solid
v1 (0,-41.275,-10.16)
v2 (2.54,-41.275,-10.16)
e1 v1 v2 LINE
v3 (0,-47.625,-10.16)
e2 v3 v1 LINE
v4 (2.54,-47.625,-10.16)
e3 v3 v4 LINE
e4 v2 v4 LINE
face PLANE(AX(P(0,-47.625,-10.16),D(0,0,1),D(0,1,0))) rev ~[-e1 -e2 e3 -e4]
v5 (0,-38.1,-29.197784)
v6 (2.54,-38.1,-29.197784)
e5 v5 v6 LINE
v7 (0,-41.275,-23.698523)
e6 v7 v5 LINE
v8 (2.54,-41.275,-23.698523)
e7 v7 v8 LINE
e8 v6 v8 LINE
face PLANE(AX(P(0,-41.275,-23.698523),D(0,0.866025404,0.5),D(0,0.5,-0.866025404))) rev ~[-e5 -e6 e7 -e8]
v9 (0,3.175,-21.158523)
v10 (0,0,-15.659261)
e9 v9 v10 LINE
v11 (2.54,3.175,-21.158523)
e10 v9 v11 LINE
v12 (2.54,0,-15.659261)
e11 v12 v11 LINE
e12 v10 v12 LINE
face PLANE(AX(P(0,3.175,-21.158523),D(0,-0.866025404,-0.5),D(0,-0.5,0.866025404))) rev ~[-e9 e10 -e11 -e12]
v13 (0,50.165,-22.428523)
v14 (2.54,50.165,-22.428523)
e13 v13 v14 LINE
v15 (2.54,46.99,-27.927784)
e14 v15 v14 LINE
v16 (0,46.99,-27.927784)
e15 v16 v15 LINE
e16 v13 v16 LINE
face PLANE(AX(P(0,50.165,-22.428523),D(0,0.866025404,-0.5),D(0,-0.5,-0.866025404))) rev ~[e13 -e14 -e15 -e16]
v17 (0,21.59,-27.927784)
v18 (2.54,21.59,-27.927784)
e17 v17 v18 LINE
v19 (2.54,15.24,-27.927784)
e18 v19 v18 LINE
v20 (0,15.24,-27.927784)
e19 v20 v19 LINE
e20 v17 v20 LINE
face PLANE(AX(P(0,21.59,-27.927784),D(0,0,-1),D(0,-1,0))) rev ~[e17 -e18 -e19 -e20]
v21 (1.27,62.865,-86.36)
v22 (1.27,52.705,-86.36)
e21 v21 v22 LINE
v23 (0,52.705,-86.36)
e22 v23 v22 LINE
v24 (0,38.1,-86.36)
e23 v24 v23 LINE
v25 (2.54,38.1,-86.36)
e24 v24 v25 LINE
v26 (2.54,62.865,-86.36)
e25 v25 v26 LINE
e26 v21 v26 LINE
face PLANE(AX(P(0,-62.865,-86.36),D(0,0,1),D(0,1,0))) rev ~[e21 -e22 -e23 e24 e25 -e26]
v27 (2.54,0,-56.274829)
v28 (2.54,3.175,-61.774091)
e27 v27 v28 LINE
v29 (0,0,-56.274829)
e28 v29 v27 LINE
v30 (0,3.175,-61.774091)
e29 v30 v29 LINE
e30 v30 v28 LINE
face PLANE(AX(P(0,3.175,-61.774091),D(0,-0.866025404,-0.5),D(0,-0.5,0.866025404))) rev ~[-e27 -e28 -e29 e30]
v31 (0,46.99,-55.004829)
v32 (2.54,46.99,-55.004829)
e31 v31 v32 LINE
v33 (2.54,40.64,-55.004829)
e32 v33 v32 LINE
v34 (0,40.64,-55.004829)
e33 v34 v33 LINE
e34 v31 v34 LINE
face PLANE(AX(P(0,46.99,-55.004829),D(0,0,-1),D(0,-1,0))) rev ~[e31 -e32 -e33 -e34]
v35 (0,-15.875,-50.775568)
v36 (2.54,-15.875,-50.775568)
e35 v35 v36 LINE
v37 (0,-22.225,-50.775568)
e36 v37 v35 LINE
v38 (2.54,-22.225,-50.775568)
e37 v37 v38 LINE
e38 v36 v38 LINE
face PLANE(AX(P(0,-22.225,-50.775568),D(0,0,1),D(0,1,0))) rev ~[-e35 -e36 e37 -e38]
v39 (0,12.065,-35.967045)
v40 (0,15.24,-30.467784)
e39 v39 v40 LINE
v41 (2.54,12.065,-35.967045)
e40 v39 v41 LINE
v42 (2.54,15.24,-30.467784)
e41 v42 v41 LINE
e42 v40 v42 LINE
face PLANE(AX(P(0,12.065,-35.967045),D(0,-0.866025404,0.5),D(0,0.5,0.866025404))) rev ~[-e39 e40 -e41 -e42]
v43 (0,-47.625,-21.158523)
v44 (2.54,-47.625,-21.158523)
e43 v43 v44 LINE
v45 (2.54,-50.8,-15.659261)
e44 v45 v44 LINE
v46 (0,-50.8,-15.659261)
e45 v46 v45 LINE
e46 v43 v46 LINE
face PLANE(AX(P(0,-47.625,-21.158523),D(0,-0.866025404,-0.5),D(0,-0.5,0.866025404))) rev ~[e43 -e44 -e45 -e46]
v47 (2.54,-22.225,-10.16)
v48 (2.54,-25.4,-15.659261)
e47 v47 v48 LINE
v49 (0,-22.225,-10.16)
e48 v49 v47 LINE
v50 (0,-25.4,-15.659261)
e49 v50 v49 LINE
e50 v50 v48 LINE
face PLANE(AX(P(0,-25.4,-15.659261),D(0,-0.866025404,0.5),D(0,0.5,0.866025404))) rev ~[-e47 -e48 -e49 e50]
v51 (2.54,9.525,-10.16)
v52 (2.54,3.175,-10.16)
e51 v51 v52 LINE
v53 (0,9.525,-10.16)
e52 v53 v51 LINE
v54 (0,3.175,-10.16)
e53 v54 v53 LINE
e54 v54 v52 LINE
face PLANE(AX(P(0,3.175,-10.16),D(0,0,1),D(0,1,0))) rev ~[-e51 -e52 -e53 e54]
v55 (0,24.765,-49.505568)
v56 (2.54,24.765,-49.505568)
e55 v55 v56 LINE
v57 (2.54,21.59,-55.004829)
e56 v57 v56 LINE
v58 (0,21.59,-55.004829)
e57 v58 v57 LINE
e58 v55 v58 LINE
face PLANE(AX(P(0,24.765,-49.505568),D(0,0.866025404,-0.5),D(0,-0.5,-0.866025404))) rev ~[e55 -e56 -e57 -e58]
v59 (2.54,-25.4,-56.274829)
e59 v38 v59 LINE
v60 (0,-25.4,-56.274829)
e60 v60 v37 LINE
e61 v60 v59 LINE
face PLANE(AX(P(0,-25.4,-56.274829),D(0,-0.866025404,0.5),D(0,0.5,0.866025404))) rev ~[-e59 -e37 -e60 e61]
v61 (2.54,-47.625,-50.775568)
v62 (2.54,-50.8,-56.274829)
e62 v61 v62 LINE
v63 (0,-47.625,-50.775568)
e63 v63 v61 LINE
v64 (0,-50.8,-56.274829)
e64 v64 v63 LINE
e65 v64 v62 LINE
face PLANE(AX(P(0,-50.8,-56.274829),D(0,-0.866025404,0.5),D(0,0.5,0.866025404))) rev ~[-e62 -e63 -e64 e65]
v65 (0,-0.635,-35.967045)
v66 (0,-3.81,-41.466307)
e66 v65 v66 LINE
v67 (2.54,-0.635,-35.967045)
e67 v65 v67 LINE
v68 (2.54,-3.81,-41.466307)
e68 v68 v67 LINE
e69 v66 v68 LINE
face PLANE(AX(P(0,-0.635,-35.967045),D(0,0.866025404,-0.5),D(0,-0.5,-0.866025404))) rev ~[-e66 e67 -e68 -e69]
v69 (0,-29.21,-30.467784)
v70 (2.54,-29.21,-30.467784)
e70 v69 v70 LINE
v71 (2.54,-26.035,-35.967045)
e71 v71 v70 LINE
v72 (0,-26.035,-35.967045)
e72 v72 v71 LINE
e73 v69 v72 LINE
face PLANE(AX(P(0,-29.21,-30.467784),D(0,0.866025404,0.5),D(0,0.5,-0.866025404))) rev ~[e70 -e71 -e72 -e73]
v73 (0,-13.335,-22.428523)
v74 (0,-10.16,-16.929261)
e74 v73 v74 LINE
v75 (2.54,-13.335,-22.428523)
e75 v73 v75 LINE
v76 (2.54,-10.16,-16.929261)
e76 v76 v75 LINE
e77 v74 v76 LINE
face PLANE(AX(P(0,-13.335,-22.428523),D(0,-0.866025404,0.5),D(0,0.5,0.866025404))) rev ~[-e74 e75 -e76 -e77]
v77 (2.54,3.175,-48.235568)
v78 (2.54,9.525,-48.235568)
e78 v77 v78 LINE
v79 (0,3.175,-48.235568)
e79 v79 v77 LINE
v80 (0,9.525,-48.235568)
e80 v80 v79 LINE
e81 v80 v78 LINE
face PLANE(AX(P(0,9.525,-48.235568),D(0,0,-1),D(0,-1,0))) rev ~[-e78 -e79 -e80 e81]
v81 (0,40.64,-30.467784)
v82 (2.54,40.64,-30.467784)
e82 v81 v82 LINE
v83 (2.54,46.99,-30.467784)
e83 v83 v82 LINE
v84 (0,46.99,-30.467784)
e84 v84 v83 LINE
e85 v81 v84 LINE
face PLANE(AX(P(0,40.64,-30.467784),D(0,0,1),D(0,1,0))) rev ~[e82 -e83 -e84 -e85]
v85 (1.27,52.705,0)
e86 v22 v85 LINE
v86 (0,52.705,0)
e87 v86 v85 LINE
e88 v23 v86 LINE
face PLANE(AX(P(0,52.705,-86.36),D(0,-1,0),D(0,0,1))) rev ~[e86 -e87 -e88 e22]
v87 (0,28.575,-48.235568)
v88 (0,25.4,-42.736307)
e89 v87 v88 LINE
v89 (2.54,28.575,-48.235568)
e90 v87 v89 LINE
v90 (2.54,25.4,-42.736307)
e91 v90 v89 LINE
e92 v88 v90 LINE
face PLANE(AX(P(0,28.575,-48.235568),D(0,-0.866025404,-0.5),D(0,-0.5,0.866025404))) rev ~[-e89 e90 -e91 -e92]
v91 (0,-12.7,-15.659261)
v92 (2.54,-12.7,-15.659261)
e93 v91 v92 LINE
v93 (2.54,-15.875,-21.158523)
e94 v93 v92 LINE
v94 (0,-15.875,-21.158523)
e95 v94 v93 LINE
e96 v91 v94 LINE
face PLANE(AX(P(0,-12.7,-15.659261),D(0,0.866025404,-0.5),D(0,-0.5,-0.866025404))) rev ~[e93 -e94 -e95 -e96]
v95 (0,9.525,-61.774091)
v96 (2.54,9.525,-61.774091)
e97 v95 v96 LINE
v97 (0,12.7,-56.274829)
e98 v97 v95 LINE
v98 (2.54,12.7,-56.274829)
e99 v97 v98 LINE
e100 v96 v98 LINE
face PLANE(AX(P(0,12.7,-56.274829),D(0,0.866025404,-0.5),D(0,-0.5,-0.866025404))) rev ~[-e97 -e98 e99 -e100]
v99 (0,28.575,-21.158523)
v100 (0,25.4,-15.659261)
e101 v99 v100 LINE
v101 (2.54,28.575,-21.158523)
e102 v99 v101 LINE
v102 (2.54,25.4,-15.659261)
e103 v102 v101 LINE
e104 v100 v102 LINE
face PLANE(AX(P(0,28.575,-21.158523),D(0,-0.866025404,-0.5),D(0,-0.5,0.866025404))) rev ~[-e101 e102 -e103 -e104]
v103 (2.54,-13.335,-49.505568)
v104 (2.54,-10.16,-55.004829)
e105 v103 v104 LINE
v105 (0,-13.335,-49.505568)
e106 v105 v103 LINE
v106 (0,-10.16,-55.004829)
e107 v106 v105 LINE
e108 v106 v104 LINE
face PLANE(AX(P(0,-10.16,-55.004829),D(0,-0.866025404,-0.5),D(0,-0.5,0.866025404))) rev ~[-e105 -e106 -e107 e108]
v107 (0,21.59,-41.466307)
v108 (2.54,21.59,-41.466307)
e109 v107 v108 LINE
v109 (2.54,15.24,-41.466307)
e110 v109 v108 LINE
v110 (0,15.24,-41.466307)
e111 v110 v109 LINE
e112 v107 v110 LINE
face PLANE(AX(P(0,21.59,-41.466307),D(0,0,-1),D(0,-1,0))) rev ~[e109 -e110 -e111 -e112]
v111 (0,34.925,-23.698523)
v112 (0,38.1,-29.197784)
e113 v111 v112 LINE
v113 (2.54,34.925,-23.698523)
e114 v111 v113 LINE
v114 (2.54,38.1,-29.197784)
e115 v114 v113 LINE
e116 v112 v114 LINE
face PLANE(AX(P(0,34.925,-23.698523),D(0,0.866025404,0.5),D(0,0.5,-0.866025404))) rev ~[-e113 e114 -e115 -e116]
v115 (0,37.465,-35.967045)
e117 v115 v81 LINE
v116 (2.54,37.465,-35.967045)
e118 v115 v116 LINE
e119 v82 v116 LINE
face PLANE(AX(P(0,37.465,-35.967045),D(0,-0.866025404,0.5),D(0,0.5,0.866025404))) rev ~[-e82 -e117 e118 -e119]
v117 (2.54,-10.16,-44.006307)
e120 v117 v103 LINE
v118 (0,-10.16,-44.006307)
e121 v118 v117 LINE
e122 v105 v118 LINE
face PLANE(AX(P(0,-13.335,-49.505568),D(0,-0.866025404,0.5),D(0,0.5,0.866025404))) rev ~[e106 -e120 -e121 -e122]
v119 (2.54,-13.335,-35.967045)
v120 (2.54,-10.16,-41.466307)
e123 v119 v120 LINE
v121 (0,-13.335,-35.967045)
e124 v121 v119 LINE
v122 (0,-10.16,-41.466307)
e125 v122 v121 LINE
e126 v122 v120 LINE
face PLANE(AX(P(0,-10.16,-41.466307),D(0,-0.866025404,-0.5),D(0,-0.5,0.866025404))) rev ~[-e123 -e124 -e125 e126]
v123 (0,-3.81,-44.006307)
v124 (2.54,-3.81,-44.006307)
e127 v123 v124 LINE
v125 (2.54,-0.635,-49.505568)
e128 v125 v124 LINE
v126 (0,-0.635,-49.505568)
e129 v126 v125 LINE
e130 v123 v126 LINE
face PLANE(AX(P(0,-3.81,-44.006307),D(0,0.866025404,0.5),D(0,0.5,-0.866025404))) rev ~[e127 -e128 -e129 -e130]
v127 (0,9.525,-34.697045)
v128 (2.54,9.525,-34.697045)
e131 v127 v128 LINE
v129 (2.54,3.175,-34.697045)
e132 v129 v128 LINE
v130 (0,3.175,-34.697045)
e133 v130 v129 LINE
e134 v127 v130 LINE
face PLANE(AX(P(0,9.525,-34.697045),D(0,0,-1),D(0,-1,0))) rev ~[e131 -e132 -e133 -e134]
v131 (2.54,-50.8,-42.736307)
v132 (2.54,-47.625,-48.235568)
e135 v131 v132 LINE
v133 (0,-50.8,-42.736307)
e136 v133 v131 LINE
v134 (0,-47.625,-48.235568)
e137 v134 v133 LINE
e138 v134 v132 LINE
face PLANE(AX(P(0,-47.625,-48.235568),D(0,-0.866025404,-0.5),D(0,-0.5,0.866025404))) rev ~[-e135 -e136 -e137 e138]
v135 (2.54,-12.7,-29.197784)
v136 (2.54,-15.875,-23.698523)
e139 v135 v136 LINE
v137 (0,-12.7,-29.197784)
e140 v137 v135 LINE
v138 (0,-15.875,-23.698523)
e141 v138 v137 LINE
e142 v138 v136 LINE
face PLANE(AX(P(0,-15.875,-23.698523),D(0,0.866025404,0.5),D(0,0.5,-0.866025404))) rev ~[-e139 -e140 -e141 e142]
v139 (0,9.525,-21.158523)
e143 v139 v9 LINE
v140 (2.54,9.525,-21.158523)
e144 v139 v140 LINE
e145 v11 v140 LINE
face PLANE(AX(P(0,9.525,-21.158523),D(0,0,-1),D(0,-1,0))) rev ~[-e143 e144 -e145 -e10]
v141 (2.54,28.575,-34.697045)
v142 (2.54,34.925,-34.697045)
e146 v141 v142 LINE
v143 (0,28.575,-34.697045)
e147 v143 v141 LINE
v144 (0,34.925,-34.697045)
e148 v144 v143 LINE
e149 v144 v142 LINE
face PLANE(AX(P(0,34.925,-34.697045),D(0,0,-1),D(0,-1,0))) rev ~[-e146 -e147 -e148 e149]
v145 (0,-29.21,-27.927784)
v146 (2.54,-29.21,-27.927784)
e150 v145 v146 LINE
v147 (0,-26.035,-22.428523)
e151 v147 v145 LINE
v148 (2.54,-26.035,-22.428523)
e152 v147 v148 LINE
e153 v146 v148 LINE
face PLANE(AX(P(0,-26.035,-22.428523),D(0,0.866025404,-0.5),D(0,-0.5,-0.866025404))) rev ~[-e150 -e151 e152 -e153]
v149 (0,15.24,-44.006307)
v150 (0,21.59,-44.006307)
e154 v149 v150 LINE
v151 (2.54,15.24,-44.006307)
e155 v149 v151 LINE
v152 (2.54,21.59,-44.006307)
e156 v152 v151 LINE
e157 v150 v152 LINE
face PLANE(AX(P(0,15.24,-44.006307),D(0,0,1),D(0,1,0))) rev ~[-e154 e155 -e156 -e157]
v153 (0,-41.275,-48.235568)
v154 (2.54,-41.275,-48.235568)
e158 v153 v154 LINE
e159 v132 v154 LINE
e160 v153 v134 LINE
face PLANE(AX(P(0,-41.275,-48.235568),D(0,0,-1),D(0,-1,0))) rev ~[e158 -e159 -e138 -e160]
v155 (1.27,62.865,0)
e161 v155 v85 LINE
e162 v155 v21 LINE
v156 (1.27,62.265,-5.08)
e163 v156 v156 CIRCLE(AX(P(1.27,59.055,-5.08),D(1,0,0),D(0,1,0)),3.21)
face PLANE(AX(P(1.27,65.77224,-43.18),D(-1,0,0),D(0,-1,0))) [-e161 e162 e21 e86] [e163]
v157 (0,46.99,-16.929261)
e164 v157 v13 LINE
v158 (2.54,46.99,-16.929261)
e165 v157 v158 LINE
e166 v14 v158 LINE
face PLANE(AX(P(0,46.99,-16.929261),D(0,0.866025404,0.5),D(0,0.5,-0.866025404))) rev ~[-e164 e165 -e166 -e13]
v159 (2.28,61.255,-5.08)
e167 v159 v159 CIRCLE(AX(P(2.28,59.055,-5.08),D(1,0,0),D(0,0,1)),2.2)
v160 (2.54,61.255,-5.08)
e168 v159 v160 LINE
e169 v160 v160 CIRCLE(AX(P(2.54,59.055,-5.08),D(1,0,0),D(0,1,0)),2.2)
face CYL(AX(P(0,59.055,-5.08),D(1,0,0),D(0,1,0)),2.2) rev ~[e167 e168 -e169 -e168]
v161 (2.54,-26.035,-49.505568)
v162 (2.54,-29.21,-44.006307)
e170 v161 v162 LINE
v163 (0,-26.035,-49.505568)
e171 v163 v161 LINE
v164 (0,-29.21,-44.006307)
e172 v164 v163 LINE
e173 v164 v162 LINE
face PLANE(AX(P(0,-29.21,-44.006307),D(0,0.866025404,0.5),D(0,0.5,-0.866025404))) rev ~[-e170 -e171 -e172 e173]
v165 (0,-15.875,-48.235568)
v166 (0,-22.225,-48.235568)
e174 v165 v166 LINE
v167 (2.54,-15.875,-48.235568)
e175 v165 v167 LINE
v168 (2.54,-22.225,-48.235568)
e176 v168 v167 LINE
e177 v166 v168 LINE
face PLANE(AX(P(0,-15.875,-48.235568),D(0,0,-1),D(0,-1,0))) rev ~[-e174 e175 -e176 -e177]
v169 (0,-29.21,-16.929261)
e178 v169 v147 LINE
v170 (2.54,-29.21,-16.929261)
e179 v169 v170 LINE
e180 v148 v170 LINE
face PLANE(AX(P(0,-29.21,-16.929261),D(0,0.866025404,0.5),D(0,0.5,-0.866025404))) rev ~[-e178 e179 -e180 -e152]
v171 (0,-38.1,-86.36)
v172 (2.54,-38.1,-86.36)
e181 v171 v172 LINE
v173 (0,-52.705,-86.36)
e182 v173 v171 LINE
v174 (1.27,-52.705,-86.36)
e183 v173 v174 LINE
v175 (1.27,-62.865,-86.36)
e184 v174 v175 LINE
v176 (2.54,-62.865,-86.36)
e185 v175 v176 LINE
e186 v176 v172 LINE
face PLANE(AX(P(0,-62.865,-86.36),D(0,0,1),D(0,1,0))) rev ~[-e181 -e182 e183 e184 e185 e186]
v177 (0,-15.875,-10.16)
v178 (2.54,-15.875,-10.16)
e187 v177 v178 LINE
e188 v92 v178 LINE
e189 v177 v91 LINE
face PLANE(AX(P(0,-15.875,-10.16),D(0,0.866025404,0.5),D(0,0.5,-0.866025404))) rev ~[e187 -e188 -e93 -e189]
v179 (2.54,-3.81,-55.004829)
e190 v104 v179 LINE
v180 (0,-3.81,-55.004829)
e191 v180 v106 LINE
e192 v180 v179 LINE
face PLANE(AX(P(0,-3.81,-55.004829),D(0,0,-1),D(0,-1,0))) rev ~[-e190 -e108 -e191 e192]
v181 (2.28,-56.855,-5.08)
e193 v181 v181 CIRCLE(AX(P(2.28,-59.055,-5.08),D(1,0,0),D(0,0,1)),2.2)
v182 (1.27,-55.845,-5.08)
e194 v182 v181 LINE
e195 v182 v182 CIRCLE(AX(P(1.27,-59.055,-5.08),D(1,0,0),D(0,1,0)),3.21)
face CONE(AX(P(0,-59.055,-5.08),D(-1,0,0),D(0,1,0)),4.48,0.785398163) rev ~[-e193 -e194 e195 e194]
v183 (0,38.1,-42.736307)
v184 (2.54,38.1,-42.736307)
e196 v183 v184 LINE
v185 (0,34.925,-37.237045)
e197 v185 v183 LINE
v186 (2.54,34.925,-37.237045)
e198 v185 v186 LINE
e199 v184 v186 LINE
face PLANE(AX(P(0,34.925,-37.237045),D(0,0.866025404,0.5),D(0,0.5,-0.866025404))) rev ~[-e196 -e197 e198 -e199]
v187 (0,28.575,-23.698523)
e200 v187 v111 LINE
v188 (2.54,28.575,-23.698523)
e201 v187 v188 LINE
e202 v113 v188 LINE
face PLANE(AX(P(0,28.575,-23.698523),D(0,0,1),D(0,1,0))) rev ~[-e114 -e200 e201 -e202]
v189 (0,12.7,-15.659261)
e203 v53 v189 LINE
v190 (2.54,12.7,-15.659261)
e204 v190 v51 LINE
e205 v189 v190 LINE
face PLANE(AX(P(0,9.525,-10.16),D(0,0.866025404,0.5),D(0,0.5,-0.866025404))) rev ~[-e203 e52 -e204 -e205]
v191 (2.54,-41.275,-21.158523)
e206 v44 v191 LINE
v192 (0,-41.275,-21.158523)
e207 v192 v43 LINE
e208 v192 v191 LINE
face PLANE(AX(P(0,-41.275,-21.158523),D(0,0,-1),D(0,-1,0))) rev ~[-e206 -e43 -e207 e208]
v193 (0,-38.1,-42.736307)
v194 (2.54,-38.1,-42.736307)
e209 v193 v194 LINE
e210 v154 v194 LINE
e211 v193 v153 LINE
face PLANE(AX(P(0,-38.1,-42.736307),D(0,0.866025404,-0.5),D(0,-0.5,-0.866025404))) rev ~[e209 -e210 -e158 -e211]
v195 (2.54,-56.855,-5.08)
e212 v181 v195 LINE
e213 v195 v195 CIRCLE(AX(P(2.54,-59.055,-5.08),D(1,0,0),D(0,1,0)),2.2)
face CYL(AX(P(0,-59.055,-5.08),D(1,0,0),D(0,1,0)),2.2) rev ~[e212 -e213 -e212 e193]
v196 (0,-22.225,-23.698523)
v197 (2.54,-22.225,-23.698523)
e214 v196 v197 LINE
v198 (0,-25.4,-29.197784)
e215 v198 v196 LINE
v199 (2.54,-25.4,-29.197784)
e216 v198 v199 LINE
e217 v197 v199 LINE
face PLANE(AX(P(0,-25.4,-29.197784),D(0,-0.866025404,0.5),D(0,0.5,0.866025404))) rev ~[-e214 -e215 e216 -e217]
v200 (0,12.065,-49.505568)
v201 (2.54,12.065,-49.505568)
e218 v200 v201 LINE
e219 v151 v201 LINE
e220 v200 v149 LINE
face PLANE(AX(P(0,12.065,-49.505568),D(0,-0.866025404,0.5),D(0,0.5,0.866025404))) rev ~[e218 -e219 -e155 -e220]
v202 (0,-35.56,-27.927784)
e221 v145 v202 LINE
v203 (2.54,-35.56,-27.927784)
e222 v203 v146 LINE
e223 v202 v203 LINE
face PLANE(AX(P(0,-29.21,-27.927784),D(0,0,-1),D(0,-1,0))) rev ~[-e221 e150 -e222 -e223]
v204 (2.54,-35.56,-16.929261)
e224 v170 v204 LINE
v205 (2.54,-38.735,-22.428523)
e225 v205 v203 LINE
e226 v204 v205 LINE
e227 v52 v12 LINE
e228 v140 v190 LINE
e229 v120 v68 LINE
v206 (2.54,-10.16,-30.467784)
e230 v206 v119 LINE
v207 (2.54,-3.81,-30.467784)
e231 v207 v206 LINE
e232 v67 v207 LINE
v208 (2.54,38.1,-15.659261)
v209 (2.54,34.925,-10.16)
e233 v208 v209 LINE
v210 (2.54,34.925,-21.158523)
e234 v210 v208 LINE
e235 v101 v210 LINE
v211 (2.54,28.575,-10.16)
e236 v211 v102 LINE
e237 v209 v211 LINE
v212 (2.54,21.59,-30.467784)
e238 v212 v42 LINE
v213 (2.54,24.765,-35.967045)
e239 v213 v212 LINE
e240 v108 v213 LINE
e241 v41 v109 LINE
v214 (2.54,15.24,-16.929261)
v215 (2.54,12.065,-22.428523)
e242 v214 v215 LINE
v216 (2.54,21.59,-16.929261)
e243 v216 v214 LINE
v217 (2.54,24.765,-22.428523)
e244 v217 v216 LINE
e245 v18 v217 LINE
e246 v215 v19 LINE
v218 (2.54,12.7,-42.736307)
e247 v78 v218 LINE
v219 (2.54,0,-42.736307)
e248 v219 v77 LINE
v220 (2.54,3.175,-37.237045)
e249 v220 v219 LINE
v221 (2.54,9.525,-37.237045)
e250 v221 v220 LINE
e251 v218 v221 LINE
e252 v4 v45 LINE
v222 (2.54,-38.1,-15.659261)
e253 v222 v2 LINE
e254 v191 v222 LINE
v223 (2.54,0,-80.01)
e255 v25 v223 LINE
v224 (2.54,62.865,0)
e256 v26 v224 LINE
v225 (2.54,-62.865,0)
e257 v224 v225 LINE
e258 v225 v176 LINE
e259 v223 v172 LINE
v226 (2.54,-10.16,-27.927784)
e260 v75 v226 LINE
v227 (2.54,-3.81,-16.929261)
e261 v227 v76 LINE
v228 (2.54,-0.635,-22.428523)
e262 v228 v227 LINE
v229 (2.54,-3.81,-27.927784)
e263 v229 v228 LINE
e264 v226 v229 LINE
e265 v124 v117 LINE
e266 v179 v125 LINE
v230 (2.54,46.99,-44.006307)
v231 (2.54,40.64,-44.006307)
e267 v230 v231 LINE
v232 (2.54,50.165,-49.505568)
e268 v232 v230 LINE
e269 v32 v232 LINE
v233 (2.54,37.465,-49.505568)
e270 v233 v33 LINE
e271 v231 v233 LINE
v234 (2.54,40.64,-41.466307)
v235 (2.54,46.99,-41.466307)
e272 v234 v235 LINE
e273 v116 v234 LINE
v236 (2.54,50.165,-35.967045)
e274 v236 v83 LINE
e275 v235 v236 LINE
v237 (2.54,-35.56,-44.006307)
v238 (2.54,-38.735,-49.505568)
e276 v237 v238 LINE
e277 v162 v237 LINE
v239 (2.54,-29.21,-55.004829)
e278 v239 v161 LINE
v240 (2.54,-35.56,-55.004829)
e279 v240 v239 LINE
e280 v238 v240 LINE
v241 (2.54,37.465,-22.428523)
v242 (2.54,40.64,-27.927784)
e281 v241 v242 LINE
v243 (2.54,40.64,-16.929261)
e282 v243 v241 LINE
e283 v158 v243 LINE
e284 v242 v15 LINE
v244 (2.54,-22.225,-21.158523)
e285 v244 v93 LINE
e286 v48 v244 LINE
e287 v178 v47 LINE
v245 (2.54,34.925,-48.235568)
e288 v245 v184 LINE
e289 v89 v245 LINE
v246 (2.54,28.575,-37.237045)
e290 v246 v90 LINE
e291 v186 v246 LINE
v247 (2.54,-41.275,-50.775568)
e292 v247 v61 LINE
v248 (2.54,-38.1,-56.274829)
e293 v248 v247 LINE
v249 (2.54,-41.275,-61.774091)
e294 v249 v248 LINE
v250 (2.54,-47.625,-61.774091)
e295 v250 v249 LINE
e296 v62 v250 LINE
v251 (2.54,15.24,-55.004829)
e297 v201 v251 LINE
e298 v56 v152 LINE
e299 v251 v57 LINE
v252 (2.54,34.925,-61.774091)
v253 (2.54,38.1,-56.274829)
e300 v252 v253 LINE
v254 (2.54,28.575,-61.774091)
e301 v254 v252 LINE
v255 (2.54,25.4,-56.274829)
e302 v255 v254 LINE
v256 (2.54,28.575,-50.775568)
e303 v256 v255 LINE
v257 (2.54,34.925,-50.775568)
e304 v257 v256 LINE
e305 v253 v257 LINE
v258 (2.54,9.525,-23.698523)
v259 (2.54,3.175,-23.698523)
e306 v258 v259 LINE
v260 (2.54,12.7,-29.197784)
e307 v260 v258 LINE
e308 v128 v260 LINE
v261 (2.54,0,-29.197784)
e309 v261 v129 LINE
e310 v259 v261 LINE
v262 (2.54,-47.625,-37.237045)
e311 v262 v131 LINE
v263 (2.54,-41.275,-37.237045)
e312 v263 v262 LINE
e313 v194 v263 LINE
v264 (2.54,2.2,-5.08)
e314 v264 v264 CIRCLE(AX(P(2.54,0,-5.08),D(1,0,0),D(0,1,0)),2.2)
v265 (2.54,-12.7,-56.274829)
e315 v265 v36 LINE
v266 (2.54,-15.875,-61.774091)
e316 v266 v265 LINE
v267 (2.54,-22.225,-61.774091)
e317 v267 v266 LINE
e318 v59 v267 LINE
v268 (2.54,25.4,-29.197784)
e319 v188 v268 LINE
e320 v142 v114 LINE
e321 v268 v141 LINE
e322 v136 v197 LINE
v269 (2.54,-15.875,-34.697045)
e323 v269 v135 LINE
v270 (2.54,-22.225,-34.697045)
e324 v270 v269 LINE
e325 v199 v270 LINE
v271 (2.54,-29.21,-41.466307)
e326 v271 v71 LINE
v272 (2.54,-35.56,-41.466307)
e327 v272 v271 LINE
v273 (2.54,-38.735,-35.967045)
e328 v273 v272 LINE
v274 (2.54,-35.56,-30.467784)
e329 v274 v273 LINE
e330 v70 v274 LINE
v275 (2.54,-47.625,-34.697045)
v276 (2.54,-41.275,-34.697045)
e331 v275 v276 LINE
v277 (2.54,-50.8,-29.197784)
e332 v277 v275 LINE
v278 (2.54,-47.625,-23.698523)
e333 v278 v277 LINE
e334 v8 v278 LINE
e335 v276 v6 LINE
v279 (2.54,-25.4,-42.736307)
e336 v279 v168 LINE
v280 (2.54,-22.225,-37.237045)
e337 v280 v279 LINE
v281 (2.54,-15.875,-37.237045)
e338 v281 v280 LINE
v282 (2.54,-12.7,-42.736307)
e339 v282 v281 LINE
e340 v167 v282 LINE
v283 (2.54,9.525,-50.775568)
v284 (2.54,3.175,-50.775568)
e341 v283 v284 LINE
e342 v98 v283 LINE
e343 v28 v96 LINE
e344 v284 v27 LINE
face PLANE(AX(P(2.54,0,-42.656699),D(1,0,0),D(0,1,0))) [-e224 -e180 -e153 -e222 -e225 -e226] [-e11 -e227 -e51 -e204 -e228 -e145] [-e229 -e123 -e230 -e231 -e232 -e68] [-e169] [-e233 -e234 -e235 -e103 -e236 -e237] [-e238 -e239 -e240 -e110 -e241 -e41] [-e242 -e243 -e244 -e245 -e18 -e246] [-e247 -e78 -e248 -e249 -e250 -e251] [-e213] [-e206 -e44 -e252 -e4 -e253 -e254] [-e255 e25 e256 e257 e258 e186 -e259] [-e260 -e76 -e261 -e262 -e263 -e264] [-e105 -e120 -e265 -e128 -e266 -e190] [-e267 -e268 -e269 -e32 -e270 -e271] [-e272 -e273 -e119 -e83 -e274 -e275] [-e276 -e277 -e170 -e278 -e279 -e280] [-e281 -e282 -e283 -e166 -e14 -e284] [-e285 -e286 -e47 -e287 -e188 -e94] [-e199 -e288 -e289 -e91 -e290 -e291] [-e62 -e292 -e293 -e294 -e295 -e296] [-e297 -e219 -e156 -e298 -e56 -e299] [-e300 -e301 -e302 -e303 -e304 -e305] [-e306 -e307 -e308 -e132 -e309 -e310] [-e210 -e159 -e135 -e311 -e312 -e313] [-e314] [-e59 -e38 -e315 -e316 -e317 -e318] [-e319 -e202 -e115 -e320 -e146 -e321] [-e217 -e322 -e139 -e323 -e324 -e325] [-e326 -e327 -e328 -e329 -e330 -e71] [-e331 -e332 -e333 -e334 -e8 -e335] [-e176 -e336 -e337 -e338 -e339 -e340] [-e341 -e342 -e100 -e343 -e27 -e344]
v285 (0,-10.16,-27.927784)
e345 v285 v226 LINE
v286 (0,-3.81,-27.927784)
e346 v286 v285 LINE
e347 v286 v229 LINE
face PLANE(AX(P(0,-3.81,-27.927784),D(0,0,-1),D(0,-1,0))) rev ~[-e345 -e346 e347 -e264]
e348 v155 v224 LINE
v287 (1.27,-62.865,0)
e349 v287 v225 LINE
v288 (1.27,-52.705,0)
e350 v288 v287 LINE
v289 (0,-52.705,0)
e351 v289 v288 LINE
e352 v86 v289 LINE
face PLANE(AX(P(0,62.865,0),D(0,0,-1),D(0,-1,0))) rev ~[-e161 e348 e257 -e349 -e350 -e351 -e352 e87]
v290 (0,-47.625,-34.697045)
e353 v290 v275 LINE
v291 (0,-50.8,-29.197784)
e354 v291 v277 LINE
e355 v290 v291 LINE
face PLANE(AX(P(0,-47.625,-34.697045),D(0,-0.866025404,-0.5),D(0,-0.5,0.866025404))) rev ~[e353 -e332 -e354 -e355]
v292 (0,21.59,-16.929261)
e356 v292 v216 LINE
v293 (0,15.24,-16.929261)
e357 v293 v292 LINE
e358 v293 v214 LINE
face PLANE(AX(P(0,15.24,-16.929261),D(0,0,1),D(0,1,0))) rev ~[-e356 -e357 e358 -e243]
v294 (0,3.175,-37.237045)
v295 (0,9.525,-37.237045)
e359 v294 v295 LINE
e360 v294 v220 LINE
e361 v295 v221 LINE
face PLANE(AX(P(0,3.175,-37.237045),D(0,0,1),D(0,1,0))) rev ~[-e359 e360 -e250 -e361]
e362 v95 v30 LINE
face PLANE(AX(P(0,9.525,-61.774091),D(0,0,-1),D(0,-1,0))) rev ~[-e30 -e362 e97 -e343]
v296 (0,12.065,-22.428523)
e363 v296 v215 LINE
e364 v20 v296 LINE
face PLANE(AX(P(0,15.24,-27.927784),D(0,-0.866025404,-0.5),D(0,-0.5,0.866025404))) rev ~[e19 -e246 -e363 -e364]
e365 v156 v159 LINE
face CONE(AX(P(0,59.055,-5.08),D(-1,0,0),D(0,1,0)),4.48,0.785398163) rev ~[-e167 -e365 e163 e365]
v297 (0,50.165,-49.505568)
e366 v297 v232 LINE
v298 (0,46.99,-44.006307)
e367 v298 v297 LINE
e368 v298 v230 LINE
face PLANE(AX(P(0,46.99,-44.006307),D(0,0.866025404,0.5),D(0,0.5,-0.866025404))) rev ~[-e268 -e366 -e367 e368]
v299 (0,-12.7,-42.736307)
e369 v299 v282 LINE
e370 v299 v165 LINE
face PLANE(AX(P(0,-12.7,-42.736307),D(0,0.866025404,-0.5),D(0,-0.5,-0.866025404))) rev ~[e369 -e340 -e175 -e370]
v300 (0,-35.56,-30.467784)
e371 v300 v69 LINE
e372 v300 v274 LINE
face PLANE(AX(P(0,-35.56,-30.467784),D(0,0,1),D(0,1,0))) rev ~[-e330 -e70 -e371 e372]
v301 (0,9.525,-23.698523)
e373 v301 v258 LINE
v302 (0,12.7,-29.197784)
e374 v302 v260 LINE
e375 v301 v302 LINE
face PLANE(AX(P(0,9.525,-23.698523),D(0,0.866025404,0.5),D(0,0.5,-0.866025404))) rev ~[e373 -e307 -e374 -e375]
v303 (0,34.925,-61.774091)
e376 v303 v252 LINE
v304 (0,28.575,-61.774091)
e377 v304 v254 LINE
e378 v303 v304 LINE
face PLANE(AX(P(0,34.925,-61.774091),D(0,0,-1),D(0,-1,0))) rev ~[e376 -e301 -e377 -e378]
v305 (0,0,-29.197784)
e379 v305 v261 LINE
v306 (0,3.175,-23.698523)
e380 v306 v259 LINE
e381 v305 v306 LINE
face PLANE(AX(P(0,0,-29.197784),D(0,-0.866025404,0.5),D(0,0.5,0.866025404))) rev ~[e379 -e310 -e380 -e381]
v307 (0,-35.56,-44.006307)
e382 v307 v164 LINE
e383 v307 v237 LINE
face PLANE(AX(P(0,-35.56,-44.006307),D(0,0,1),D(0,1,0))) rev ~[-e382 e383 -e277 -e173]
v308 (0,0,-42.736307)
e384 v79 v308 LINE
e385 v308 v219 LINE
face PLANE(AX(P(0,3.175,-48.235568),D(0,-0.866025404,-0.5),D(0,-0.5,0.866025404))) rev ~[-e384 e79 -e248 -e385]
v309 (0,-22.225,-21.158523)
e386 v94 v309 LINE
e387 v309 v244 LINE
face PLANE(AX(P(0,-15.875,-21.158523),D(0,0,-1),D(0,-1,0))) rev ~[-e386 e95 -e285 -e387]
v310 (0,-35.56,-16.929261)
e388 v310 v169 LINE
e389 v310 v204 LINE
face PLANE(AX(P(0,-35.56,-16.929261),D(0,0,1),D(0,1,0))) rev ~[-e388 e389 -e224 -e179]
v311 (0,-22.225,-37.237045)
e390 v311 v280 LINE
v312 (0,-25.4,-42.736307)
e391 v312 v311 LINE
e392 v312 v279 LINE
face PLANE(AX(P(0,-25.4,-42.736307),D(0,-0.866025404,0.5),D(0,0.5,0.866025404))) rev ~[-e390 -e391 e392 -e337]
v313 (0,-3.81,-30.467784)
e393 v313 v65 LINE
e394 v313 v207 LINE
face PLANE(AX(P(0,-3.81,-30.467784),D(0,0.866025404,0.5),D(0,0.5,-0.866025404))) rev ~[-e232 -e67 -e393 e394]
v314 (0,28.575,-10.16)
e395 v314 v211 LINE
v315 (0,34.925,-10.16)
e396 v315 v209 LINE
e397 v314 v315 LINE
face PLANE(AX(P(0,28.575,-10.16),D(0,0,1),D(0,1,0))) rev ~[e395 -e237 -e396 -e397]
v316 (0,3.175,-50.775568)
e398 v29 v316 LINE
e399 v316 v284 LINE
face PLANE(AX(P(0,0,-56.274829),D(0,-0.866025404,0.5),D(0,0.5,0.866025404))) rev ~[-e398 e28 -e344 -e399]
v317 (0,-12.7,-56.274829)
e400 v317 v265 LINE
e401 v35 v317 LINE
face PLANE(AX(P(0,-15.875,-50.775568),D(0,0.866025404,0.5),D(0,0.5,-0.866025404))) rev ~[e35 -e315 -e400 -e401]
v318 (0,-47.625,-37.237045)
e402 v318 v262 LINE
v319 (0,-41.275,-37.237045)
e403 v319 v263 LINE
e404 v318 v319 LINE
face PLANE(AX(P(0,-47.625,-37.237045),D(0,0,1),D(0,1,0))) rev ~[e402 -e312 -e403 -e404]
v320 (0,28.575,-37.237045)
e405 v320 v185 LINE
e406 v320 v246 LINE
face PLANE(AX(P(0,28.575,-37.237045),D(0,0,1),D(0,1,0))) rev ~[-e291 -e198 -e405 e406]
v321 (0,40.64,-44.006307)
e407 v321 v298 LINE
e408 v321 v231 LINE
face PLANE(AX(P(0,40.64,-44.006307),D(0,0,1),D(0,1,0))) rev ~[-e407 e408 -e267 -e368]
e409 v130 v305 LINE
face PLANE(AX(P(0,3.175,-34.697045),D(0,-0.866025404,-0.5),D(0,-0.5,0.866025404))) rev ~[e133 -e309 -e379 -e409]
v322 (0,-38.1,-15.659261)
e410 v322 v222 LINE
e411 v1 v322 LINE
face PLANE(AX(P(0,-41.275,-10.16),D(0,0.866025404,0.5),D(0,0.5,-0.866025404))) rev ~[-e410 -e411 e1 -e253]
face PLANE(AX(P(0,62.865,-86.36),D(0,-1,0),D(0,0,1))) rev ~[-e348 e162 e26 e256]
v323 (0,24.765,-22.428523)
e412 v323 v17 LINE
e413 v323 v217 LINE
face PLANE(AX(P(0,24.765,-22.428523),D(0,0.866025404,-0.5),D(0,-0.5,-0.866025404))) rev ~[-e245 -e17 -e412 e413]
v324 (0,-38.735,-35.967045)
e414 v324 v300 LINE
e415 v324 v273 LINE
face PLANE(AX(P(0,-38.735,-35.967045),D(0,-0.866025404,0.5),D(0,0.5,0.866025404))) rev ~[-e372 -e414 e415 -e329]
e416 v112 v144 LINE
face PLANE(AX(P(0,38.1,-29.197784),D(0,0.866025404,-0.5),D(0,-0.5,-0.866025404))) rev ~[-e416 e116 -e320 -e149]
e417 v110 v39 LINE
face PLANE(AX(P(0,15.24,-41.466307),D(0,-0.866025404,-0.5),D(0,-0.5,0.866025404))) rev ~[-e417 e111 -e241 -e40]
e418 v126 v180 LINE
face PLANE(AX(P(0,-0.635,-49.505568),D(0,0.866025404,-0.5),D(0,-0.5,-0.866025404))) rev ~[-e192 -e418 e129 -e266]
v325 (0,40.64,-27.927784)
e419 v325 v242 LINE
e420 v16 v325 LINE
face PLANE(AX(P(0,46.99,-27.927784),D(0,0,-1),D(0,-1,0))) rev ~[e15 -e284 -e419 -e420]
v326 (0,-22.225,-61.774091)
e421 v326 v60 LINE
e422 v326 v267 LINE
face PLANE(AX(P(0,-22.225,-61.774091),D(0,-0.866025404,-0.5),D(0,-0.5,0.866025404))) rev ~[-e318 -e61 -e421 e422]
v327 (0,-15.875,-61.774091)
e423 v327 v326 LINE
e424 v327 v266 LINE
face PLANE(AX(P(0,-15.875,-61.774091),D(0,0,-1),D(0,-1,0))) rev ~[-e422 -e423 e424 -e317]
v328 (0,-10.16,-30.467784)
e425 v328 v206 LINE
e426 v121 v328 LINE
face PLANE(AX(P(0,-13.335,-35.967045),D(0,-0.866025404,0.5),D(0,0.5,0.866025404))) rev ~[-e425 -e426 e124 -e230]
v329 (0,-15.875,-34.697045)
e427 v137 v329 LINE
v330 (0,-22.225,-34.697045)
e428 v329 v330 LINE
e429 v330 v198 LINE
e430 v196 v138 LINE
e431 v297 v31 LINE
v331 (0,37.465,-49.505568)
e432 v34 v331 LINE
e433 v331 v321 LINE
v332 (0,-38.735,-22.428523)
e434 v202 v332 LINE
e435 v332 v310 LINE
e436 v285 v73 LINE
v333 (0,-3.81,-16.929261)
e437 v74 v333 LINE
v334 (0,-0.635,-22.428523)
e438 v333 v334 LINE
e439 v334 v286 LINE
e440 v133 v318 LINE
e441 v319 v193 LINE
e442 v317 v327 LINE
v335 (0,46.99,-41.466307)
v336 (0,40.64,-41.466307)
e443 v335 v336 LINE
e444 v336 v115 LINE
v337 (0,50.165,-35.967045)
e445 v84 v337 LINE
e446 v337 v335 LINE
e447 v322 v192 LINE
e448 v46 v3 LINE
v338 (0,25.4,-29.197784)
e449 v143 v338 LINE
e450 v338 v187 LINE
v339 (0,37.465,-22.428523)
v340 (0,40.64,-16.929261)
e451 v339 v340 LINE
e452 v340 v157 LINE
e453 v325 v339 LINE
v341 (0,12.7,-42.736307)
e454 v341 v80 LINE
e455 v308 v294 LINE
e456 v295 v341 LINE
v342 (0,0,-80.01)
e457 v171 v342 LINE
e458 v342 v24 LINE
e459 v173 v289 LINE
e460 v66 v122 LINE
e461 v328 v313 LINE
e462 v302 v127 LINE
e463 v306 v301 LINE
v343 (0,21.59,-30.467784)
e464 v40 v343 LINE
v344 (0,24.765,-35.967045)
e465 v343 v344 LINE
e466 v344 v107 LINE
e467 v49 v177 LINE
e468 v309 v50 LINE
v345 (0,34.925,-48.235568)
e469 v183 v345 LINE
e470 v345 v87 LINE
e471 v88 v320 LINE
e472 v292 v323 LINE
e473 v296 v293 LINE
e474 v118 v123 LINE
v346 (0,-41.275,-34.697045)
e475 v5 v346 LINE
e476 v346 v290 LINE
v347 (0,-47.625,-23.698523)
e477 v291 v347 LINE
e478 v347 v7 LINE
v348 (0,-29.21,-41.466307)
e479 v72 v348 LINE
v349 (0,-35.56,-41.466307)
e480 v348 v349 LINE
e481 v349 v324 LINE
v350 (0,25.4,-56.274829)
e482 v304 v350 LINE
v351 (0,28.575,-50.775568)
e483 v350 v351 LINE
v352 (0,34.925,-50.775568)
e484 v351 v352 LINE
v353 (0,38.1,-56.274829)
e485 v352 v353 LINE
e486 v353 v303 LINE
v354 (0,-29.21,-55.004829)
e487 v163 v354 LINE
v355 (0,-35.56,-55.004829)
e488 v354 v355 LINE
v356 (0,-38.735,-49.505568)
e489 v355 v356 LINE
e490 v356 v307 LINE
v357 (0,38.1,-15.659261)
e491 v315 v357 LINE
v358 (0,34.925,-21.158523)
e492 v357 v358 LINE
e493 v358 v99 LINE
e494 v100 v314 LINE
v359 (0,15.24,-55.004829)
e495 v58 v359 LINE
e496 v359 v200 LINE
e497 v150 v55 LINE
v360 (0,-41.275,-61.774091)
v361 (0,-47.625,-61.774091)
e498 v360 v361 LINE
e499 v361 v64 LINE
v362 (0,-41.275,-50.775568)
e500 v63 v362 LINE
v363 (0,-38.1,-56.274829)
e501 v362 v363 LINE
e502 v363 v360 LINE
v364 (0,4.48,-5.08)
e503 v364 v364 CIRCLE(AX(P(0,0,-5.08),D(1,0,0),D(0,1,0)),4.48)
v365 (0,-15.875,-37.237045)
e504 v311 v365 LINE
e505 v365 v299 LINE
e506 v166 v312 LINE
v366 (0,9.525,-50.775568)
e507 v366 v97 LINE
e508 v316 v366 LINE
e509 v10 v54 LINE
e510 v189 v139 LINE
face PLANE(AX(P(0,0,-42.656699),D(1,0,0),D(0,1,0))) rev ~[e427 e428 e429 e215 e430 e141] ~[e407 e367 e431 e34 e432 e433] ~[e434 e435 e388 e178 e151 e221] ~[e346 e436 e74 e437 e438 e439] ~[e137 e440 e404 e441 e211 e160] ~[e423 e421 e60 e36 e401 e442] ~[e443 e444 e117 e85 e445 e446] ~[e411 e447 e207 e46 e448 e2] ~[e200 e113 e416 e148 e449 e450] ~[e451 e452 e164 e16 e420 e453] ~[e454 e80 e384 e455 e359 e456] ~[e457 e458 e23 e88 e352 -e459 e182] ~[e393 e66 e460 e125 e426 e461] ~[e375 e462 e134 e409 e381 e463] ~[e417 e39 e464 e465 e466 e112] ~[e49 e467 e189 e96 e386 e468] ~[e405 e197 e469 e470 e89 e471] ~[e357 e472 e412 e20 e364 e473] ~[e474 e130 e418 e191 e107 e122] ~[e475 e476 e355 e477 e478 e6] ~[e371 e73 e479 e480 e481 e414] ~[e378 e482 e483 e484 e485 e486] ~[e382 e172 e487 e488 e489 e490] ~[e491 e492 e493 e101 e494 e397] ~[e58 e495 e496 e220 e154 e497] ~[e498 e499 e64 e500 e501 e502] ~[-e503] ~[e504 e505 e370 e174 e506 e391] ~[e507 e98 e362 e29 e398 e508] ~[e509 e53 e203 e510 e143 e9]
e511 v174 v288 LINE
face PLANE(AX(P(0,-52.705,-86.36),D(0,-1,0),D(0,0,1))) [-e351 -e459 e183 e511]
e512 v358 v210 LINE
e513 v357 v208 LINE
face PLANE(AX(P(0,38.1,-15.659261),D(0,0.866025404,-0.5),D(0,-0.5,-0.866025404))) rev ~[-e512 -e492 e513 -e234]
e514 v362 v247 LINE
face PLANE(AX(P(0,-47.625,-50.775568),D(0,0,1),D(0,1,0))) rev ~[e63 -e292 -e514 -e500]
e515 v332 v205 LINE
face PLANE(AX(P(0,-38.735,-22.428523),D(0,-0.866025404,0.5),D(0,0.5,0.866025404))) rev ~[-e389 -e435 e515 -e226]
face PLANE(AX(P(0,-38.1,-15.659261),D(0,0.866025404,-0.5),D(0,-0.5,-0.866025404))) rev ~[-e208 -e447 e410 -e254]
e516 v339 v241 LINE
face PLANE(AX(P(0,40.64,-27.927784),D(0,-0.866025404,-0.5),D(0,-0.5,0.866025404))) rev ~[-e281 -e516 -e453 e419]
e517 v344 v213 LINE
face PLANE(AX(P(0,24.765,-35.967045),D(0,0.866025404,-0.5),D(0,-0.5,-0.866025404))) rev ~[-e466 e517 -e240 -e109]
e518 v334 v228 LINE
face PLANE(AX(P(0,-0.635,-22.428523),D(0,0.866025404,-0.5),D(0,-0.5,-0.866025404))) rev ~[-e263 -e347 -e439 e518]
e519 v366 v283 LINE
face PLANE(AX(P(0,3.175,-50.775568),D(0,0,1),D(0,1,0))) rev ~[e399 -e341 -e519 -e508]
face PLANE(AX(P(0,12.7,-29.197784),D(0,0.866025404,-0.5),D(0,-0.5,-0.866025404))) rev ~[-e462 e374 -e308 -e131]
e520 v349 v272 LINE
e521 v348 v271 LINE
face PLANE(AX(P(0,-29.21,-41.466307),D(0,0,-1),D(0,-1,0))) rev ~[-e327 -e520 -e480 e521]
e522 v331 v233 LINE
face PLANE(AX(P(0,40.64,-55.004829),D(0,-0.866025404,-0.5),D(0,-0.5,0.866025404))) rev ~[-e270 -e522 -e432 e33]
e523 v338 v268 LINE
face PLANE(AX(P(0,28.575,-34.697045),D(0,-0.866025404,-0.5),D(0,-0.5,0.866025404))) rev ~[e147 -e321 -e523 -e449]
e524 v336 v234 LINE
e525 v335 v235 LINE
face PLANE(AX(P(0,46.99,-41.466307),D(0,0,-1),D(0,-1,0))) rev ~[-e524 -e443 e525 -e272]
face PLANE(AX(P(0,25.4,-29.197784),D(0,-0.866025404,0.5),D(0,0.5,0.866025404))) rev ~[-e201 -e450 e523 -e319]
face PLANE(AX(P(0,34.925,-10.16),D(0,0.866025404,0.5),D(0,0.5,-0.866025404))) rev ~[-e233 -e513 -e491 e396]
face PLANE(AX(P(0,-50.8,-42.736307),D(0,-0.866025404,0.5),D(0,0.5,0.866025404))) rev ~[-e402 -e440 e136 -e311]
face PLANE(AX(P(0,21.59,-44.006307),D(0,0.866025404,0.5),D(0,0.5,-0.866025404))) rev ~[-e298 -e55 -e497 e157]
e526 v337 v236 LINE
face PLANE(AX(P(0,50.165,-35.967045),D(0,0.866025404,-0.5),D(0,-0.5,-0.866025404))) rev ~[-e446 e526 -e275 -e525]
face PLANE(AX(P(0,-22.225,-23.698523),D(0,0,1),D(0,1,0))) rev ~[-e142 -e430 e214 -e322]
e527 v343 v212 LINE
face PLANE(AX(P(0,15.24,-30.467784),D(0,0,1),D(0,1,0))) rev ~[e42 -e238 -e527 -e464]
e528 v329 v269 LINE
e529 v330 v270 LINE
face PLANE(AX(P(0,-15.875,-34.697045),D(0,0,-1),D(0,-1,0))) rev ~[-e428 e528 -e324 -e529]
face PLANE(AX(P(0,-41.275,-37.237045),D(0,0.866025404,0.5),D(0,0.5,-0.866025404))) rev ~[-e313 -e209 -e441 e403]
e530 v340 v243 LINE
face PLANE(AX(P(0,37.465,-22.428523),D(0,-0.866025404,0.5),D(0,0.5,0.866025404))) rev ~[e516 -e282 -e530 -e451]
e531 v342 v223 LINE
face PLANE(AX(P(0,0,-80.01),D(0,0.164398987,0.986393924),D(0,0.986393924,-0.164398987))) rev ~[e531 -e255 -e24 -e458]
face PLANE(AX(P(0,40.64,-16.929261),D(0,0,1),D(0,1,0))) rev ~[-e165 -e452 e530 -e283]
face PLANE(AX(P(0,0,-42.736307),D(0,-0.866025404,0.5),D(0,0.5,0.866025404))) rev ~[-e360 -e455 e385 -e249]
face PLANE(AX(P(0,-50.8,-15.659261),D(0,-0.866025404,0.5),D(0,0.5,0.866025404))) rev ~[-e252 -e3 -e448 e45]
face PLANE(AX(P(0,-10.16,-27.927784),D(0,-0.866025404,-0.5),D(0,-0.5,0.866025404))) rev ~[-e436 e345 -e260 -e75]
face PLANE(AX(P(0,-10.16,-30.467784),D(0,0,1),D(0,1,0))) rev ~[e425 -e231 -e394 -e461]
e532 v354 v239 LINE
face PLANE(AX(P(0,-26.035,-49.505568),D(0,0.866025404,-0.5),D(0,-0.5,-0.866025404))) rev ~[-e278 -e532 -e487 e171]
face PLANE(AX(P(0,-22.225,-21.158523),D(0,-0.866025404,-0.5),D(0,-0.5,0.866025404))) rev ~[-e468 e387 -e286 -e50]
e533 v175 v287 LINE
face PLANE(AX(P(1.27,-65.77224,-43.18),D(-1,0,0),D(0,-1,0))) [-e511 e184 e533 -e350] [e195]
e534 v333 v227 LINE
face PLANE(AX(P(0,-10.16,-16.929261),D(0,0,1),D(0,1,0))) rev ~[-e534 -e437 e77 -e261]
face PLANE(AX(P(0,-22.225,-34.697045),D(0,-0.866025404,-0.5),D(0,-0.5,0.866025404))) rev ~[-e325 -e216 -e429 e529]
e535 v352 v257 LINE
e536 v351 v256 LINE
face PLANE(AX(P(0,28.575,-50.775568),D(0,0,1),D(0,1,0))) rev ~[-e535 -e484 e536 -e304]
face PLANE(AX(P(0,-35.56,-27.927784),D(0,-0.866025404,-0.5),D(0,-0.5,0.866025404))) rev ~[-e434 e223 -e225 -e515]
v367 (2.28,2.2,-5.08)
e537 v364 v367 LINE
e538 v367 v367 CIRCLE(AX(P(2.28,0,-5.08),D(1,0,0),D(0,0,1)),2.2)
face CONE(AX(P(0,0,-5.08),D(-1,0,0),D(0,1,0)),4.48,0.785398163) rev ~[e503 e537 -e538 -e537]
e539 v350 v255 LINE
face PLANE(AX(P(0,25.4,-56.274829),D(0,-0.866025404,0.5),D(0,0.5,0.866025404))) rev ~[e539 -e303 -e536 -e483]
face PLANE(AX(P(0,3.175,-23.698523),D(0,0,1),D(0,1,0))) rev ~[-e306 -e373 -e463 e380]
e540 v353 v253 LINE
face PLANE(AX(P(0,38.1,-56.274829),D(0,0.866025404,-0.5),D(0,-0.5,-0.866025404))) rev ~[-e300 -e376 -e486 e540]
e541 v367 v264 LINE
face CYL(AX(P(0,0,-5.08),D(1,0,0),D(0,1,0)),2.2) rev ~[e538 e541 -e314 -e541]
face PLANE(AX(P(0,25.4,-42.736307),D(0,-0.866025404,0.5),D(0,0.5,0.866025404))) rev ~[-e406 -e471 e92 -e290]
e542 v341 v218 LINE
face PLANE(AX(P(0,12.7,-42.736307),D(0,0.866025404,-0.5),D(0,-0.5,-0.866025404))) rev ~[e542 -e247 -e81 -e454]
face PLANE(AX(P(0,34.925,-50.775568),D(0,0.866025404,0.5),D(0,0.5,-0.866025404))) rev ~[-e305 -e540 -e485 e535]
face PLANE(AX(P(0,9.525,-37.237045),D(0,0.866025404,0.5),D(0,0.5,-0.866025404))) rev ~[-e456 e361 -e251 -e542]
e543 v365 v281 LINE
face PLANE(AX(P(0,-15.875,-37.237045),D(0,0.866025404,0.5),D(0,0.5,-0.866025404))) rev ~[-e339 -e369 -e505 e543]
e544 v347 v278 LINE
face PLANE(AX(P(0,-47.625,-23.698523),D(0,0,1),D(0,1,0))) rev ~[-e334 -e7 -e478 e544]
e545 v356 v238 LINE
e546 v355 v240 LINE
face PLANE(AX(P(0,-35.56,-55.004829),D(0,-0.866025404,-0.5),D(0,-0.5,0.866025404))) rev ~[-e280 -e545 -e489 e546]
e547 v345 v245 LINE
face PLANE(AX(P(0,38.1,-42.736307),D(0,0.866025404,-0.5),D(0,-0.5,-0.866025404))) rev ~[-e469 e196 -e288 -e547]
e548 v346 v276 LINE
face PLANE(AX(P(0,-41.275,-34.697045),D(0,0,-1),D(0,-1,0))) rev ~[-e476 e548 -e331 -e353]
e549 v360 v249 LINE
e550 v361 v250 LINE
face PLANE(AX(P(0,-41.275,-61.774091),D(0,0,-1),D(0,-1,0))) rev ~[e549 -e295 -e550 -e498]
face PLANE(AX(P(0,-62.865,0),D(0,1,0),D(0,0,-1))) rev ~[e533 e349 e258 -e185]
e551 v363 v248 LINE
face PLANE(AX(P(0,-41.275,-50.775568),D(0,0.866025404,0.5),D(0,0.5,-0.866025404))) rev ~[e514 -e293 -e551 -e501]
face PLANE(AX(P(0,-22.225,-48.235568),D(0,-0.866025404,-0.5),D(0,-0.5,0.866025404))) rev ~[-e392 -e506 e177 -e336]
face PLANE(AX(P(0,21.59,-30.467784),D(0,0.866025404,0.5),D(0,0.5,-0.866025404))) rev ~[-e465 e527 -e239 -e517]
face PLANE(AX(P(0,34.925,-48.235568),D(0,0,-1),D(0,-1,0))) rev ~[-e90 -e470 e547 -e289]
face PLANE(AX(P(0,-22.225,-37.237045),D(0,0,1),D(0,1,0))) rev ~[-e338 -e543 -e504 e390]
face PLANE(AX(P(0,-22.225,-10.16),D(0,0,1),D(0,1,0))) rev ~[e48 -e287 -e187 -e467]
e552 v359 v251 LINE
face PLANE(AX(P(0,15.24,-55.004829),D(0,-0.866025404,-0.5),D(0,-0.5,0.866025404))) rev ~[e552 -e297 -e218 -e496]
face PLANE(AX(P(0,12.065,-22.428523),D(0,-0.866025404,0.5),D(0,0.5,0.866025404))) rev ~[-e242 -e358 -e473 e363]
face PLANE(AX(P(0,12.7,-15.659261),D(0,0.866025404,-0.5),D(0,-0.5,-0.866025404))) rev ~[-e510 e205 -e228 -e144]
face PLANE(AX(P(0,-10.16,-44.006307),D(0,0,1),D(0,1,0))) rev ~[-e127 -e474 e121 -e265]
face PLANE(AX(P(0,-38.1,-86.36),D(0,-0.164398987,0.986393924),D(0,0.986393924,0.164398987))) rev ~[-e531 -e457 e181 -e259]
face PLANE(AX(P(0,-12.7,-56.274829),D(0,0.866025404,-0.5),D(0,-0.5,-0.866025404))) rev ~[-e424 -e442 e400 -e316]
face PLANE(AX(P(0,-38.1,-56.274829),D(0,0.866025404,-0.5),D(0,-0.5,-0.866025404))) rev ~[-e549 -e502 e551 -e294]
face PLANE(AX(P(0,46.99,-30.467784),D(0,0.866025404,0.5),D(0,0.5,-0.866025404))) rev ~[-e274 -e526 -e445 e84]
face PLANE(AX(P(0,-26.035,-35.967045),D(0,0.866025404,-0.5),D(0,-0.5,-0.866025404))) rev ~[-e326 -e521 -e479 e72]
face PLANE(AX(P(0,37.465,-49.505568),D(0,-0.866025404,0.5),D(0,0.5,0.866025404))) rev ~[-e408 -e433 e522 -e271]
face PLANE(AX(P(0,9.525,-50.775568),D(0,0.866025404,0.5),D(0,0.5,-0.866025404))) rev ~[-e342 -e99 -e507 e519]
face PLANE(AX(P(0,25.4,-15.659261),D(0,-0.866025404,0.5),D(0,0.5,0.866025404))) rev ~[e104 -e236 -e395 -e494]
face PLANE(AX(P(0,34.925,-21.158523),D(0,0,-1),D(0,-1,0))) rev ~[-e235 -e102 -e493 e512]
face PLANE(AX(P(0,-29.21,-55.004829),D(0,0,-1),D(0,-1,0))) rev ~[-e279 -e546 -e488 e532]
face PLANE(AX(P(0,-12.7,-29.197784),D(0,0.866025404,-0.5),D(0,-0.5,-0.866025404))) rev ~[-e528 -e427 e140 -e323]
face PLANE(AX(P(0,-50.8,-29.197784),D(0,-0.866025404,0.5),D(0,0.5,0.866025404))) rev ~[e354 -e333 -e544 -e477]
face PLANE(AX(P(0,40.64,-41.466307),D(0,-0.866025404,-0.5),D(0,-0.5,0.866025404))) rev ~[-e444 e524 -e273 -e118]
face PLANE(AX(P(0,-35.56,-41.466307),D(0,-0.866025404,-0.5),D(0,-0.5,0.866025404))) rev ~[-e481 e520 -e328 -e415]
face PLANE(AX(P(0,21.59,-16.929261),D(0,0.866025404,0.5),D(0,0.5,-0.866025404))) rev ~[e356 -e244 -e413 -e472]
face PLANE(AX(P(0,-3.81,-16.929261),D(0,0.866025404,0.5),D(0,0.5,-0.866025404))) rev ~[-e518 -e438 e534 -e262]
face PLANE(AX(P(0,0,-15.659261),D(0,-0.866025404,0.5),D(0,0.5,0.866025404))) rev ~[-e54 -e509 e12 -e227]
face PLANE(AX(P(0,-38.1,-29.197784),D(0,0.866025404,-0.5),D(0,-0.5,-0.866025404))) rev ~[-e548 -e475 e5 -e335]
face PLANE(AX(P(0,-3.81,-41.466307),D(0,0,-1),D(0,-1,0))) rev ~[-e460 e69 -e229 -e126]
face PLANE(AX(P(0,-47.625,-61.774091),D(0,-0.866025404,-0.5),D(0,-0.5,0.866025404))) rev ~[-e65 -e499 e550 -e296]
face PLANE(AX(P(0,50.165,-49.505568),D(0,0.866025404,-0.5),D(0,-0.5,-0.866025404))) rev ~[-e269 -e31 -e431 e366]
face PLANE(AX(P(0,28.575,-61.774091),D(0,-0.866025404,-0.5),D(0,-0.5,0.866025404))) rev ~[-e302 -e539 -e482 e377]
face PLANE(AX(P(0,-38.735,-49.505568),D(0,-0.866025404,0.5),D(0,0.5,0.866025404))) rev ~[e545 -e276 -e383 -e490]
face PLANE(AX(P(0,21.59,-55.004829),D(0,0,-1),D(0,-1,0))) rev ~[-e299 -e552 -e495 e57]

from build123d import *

# Parameters (mm, degrees)
F1_DEPTH       = 2.54
F3_D           = 4.4
F3_DEPTH       = 37.1856
F3_CSINK_D     = 8.96
F3_CSINK_ANGLE = 90
F3_TIP         = 1.3218933619
F4_W           = 26.1344808769
F4_H           = 86.36
F5_DEPTH       = 1.27
F7_DEPTH       = 25.4


with BuildPart() as f1:
    # F0 (on Right) → F1 (new body)
    with BuildSketch(Plane.YZ):
        Polygon((62.865, 0), (-62.865, 0), (-60.325, -86.36), (60.325, -86.36), align=None)
        Polygon((-60.325, -86.36), (-62.865, 0), (-62.865, -86.36), align=None)
        Polygon((62.865, -86.36), (62.865, 0), (60.325, -86.36), align=None)
    extrude(amount=F1_DEPTH)

    # F3
    with Locations(Plane(origin=(0, 0, 0), x_dir=(0, -1, 0), z_dir=(-1, 0, 0))):
        with Locations((-59.055, -5.08), (0, -5.08), (59.055, -5.08)):
            CounterSinkHole(F3_D / 2, F3_CSINK_D / 2, depth=F3_DEPTH, counter_sink_angle=F3_CSINK_ANGLE)
            with Locations((0, 0, -(F3_DEPTH + F3_TIP / 2))):  # 118° drill point
                Cone(0, F3_D / 2, F3_TIP, mode=Mode.SUBTRACT)

    # F4 (on face) → F5 (cut)
    with BuildSketch(Plane(origin=(0, 0, 0), x_dir=(0, -1, 0), z_dir=(-1, 0, 0))):
        with Locations((-65.7722404385, -43.18)):
            Rectangle(F4_W, F4_H)
        with Locations((65.7722404385, -43.18)):
            Rectangle(F4_W, F4_H)
    extrude(amount=-F5_DEPTH, mode=Mode.SUBTRACT)

    # F6 (on face) → F7 (cut)
    with BuildSketch(Plane(origin=(0, 0, 0), x_dir=(0, -1, 0), z_dir=(-1, 0, 0))):
        Polygon((0, -80.01), (-38.1, -86.36), (38.1, -86.36), align=None)
        Polygon((-40.64, -16.929261314), (-46.99, -16.929261314), (-50.165, -22.4285226281), (-46.99, -27.9277839421), (-40.64, -27.9277839421), (-37.465, -22.4285226281), align=None)
        Polygon((-40.64, -30.4677839421), (-46.99, -30.4677839421), (-50.165, -35.9670452561), (-46.99, -41.4663065701), (-40.64, -41.4663065701), (-37.465, -35.9670452561), align=None)
        Polygon((-40.64, -44.0063065701), (-46.99, -44.0063065701), (-50.165, -49.5055678841), (-46.99, -55.0048291981), (-40.64, -55.0048291981), (-39.0525, -52.2551985411), (-37.465, -49.5055678841), align=None)
        Polygon((-34.925, -37.2370452561), (-38.1, -42.7363065701), (-34.925, -48.2355678841), (-28.575, -48.2355678841), (-25.4, -42.7363065701), (-28.575, -37.2370452561), align=None)
        Polygon((-34.925, -34.6970452561), (-28.575, -34.6970452561), (-25.4, -29.1977839421), (-28.575, -23.698522628), (-34.925, -23.698522628), (-38.1, -29.1977839421), align=None)
        Polygon((-34.925, -21.1585226281), (-28.575, -21.1585226281), (-25.4, -15.659261314), (-28.575, -10.16), (-34.925, -10.16), (-38.1, -15.659261314), align=None)
        Polygon((-28.575, -50.7755678841), (-34.925, -50.7755678841), (-38.1, -56.2748291981), (-34.925, -61.7740905122), (-28.575, -61.7740905122), (-25.4, -56.2748291981), align=None)
        Polygon((-12.7, -29.1977839421), (-9.525, -34.6970452561), (-3.175, -34.6970452561), (0, -29.1977839421), (-3.175, -23.698522628), (-9.525, -23.698522628), align=None)
        Polygon((-12.065, -35.9670452561), (-15.24, -30.4677839421), (-21.59, -30.4677839421), (-24.765, -35.9670452561), (-21.59, -41.4663065701), (-15.24, -41.4663065701), align=None)
        Polygon((-3.175, -61.7740905122), (0, -56.2748291981), (-3.175, -50.7755678841), (-9.525, -50.7755678841), (-12.7, -56.2748291981), (-9.525, -61.7740905122), align=None)
        Polygon((-9.525, -10.16), (-12.7, -15.659261314), (-9.525, -21.1585226281), (-3.175, -21.1585226281), (0, -15.659261314), (-3.175, -10.16), align=None)
        Polygon((-12.065, -49.5055678841), (-15.24, -44.0063065701), (-21.59, -44.0063065701), (-24.765, -49.5055678841), (-21.59, -55.0048291981), (-15.24, -55.0048291981), (-13.6525, -52.2551985411), align=None)
        Polygon((-15.24, -27.9277839421), (-12.065, -22.4285226281), (-15.24, -16.929261314), (-21.59, -16.929261314), (-24.765, -22.4285226281), (-21.59, -27.9277839421), align=None)
        Polygon((-12.7, -42.7363065701), (-9.525, -48.2355678841), (-3.175, -48.2355678841), (0, -42.7363065701), (-3.175, -37.2370452561), (-9.525, -37.2370452561), align=None)
        Polygon((12.7, -29.1977839421), (15.875, -34.6970452561), (22.225, -34.6970452561), (25.4, -29.1977839421), (22.225, -23.698522628), (15.875, -23.698522628), align=None)
        Polygon((13.335, -35.9670452561), (10.16, -30.4677839421), (3.81, -30.4677839421), (0.635, -35.9670452561), (3.81, -41.4663065701), (10.16, -41.4663065701), align=None)
        Polygon((22.225, -61.7740905122), (25.4, -56.2748291981), (22.225, -50.7755678841), (15.875, -50.7755678841), (12.7, -56.2748291981), (15.875, -61.7740905122), align=None)
        Polygon((15.875, -10.16), (12.7, -15.659261314), (15.875, -21.1585226281), (22.225, -21.1585226281), (25.4, -15.659261314), (22.225, -10.16), align=None)
        Polygon((13.335, -49.5055678841), (10.16, -44.0063065701), (3.81, -44.0063065701), (0.635, -49.5055678841), (3.81, -55.0048291981), (10.16, -55.0048291981), (11.7475, -52.2551985411), align=None)
        Polygon((10.16, -27.9277839421), (13.335, -22.4285226281), (10.16, -16.929261314), (3.81, -16.929261314), (0.635, -22.4285226281), (3.81, -27.9277839421), align=None)
        Polygon((12.7, -42.7363065701), (15.875, -48.2355678841), (22.225, -48.2355678841), (25.4, -42.7363065701), (22.225, -37.2370452561), (15.875, -37.2370452561), align=None)
        Polygon((38.1, -29.1977839421), (41.275, -34.6970452561), (47.625, -34.6970452561), (50.8, -29.1977839421), (47.625, -23.698522628), (41.275, -23.698522628), align=None)
        Polygon((38.735, -35.9670452561), (35.56, -30.4677839421), (29.21, -30.4677839421), (26.035, -35.9670452561), (29.21, -41.4663065701), (35.56, -41.4663065701), align=None)
        Polygon((47.625, -61.7740905122), (50.8, -56.2748291981), (47.625, -50.7755678841), (41.275, -50.7755678841), (38.1, -56.2748291981), (41.275, -61.7740905122), align=None)
        Polygon((41.275, -10.16), (38.1, -15.659261314), (41.275, -21.1585226281), (47.625, -21.1585226281), (50.8, -15.659261314), (47.625, -10.16), align=None)
        Polygon((38.735, -49.5055678841), (35.56, -44.0063065701), (29.21, -44.0063065701), (26.035, -49.5055678841), (29.21, -55.0048291981), (35.56, -55.0048291981), (37.1475, -52.2551985411), align=None)
        Polygon((35.56, -27.9277839421), (38.735, -22.4285226281), (35.56, -16.929261314), (29.21, -16.929261314), (26.035, -22.4285226281), (29.21, -27.9277839421), align=None)
        Polygon((38.1, -42.7363065701), (41.275, -48.2355678841), (47.625, -48.2355678841), (50.8, -42.7363065701), (47.625, -37.2370452561), (41.275, -37.2370452561), align=None)
    extrude(amount=-F7_DEPTH, mode=Mode.SUBTRACT)


solid = f1.part
